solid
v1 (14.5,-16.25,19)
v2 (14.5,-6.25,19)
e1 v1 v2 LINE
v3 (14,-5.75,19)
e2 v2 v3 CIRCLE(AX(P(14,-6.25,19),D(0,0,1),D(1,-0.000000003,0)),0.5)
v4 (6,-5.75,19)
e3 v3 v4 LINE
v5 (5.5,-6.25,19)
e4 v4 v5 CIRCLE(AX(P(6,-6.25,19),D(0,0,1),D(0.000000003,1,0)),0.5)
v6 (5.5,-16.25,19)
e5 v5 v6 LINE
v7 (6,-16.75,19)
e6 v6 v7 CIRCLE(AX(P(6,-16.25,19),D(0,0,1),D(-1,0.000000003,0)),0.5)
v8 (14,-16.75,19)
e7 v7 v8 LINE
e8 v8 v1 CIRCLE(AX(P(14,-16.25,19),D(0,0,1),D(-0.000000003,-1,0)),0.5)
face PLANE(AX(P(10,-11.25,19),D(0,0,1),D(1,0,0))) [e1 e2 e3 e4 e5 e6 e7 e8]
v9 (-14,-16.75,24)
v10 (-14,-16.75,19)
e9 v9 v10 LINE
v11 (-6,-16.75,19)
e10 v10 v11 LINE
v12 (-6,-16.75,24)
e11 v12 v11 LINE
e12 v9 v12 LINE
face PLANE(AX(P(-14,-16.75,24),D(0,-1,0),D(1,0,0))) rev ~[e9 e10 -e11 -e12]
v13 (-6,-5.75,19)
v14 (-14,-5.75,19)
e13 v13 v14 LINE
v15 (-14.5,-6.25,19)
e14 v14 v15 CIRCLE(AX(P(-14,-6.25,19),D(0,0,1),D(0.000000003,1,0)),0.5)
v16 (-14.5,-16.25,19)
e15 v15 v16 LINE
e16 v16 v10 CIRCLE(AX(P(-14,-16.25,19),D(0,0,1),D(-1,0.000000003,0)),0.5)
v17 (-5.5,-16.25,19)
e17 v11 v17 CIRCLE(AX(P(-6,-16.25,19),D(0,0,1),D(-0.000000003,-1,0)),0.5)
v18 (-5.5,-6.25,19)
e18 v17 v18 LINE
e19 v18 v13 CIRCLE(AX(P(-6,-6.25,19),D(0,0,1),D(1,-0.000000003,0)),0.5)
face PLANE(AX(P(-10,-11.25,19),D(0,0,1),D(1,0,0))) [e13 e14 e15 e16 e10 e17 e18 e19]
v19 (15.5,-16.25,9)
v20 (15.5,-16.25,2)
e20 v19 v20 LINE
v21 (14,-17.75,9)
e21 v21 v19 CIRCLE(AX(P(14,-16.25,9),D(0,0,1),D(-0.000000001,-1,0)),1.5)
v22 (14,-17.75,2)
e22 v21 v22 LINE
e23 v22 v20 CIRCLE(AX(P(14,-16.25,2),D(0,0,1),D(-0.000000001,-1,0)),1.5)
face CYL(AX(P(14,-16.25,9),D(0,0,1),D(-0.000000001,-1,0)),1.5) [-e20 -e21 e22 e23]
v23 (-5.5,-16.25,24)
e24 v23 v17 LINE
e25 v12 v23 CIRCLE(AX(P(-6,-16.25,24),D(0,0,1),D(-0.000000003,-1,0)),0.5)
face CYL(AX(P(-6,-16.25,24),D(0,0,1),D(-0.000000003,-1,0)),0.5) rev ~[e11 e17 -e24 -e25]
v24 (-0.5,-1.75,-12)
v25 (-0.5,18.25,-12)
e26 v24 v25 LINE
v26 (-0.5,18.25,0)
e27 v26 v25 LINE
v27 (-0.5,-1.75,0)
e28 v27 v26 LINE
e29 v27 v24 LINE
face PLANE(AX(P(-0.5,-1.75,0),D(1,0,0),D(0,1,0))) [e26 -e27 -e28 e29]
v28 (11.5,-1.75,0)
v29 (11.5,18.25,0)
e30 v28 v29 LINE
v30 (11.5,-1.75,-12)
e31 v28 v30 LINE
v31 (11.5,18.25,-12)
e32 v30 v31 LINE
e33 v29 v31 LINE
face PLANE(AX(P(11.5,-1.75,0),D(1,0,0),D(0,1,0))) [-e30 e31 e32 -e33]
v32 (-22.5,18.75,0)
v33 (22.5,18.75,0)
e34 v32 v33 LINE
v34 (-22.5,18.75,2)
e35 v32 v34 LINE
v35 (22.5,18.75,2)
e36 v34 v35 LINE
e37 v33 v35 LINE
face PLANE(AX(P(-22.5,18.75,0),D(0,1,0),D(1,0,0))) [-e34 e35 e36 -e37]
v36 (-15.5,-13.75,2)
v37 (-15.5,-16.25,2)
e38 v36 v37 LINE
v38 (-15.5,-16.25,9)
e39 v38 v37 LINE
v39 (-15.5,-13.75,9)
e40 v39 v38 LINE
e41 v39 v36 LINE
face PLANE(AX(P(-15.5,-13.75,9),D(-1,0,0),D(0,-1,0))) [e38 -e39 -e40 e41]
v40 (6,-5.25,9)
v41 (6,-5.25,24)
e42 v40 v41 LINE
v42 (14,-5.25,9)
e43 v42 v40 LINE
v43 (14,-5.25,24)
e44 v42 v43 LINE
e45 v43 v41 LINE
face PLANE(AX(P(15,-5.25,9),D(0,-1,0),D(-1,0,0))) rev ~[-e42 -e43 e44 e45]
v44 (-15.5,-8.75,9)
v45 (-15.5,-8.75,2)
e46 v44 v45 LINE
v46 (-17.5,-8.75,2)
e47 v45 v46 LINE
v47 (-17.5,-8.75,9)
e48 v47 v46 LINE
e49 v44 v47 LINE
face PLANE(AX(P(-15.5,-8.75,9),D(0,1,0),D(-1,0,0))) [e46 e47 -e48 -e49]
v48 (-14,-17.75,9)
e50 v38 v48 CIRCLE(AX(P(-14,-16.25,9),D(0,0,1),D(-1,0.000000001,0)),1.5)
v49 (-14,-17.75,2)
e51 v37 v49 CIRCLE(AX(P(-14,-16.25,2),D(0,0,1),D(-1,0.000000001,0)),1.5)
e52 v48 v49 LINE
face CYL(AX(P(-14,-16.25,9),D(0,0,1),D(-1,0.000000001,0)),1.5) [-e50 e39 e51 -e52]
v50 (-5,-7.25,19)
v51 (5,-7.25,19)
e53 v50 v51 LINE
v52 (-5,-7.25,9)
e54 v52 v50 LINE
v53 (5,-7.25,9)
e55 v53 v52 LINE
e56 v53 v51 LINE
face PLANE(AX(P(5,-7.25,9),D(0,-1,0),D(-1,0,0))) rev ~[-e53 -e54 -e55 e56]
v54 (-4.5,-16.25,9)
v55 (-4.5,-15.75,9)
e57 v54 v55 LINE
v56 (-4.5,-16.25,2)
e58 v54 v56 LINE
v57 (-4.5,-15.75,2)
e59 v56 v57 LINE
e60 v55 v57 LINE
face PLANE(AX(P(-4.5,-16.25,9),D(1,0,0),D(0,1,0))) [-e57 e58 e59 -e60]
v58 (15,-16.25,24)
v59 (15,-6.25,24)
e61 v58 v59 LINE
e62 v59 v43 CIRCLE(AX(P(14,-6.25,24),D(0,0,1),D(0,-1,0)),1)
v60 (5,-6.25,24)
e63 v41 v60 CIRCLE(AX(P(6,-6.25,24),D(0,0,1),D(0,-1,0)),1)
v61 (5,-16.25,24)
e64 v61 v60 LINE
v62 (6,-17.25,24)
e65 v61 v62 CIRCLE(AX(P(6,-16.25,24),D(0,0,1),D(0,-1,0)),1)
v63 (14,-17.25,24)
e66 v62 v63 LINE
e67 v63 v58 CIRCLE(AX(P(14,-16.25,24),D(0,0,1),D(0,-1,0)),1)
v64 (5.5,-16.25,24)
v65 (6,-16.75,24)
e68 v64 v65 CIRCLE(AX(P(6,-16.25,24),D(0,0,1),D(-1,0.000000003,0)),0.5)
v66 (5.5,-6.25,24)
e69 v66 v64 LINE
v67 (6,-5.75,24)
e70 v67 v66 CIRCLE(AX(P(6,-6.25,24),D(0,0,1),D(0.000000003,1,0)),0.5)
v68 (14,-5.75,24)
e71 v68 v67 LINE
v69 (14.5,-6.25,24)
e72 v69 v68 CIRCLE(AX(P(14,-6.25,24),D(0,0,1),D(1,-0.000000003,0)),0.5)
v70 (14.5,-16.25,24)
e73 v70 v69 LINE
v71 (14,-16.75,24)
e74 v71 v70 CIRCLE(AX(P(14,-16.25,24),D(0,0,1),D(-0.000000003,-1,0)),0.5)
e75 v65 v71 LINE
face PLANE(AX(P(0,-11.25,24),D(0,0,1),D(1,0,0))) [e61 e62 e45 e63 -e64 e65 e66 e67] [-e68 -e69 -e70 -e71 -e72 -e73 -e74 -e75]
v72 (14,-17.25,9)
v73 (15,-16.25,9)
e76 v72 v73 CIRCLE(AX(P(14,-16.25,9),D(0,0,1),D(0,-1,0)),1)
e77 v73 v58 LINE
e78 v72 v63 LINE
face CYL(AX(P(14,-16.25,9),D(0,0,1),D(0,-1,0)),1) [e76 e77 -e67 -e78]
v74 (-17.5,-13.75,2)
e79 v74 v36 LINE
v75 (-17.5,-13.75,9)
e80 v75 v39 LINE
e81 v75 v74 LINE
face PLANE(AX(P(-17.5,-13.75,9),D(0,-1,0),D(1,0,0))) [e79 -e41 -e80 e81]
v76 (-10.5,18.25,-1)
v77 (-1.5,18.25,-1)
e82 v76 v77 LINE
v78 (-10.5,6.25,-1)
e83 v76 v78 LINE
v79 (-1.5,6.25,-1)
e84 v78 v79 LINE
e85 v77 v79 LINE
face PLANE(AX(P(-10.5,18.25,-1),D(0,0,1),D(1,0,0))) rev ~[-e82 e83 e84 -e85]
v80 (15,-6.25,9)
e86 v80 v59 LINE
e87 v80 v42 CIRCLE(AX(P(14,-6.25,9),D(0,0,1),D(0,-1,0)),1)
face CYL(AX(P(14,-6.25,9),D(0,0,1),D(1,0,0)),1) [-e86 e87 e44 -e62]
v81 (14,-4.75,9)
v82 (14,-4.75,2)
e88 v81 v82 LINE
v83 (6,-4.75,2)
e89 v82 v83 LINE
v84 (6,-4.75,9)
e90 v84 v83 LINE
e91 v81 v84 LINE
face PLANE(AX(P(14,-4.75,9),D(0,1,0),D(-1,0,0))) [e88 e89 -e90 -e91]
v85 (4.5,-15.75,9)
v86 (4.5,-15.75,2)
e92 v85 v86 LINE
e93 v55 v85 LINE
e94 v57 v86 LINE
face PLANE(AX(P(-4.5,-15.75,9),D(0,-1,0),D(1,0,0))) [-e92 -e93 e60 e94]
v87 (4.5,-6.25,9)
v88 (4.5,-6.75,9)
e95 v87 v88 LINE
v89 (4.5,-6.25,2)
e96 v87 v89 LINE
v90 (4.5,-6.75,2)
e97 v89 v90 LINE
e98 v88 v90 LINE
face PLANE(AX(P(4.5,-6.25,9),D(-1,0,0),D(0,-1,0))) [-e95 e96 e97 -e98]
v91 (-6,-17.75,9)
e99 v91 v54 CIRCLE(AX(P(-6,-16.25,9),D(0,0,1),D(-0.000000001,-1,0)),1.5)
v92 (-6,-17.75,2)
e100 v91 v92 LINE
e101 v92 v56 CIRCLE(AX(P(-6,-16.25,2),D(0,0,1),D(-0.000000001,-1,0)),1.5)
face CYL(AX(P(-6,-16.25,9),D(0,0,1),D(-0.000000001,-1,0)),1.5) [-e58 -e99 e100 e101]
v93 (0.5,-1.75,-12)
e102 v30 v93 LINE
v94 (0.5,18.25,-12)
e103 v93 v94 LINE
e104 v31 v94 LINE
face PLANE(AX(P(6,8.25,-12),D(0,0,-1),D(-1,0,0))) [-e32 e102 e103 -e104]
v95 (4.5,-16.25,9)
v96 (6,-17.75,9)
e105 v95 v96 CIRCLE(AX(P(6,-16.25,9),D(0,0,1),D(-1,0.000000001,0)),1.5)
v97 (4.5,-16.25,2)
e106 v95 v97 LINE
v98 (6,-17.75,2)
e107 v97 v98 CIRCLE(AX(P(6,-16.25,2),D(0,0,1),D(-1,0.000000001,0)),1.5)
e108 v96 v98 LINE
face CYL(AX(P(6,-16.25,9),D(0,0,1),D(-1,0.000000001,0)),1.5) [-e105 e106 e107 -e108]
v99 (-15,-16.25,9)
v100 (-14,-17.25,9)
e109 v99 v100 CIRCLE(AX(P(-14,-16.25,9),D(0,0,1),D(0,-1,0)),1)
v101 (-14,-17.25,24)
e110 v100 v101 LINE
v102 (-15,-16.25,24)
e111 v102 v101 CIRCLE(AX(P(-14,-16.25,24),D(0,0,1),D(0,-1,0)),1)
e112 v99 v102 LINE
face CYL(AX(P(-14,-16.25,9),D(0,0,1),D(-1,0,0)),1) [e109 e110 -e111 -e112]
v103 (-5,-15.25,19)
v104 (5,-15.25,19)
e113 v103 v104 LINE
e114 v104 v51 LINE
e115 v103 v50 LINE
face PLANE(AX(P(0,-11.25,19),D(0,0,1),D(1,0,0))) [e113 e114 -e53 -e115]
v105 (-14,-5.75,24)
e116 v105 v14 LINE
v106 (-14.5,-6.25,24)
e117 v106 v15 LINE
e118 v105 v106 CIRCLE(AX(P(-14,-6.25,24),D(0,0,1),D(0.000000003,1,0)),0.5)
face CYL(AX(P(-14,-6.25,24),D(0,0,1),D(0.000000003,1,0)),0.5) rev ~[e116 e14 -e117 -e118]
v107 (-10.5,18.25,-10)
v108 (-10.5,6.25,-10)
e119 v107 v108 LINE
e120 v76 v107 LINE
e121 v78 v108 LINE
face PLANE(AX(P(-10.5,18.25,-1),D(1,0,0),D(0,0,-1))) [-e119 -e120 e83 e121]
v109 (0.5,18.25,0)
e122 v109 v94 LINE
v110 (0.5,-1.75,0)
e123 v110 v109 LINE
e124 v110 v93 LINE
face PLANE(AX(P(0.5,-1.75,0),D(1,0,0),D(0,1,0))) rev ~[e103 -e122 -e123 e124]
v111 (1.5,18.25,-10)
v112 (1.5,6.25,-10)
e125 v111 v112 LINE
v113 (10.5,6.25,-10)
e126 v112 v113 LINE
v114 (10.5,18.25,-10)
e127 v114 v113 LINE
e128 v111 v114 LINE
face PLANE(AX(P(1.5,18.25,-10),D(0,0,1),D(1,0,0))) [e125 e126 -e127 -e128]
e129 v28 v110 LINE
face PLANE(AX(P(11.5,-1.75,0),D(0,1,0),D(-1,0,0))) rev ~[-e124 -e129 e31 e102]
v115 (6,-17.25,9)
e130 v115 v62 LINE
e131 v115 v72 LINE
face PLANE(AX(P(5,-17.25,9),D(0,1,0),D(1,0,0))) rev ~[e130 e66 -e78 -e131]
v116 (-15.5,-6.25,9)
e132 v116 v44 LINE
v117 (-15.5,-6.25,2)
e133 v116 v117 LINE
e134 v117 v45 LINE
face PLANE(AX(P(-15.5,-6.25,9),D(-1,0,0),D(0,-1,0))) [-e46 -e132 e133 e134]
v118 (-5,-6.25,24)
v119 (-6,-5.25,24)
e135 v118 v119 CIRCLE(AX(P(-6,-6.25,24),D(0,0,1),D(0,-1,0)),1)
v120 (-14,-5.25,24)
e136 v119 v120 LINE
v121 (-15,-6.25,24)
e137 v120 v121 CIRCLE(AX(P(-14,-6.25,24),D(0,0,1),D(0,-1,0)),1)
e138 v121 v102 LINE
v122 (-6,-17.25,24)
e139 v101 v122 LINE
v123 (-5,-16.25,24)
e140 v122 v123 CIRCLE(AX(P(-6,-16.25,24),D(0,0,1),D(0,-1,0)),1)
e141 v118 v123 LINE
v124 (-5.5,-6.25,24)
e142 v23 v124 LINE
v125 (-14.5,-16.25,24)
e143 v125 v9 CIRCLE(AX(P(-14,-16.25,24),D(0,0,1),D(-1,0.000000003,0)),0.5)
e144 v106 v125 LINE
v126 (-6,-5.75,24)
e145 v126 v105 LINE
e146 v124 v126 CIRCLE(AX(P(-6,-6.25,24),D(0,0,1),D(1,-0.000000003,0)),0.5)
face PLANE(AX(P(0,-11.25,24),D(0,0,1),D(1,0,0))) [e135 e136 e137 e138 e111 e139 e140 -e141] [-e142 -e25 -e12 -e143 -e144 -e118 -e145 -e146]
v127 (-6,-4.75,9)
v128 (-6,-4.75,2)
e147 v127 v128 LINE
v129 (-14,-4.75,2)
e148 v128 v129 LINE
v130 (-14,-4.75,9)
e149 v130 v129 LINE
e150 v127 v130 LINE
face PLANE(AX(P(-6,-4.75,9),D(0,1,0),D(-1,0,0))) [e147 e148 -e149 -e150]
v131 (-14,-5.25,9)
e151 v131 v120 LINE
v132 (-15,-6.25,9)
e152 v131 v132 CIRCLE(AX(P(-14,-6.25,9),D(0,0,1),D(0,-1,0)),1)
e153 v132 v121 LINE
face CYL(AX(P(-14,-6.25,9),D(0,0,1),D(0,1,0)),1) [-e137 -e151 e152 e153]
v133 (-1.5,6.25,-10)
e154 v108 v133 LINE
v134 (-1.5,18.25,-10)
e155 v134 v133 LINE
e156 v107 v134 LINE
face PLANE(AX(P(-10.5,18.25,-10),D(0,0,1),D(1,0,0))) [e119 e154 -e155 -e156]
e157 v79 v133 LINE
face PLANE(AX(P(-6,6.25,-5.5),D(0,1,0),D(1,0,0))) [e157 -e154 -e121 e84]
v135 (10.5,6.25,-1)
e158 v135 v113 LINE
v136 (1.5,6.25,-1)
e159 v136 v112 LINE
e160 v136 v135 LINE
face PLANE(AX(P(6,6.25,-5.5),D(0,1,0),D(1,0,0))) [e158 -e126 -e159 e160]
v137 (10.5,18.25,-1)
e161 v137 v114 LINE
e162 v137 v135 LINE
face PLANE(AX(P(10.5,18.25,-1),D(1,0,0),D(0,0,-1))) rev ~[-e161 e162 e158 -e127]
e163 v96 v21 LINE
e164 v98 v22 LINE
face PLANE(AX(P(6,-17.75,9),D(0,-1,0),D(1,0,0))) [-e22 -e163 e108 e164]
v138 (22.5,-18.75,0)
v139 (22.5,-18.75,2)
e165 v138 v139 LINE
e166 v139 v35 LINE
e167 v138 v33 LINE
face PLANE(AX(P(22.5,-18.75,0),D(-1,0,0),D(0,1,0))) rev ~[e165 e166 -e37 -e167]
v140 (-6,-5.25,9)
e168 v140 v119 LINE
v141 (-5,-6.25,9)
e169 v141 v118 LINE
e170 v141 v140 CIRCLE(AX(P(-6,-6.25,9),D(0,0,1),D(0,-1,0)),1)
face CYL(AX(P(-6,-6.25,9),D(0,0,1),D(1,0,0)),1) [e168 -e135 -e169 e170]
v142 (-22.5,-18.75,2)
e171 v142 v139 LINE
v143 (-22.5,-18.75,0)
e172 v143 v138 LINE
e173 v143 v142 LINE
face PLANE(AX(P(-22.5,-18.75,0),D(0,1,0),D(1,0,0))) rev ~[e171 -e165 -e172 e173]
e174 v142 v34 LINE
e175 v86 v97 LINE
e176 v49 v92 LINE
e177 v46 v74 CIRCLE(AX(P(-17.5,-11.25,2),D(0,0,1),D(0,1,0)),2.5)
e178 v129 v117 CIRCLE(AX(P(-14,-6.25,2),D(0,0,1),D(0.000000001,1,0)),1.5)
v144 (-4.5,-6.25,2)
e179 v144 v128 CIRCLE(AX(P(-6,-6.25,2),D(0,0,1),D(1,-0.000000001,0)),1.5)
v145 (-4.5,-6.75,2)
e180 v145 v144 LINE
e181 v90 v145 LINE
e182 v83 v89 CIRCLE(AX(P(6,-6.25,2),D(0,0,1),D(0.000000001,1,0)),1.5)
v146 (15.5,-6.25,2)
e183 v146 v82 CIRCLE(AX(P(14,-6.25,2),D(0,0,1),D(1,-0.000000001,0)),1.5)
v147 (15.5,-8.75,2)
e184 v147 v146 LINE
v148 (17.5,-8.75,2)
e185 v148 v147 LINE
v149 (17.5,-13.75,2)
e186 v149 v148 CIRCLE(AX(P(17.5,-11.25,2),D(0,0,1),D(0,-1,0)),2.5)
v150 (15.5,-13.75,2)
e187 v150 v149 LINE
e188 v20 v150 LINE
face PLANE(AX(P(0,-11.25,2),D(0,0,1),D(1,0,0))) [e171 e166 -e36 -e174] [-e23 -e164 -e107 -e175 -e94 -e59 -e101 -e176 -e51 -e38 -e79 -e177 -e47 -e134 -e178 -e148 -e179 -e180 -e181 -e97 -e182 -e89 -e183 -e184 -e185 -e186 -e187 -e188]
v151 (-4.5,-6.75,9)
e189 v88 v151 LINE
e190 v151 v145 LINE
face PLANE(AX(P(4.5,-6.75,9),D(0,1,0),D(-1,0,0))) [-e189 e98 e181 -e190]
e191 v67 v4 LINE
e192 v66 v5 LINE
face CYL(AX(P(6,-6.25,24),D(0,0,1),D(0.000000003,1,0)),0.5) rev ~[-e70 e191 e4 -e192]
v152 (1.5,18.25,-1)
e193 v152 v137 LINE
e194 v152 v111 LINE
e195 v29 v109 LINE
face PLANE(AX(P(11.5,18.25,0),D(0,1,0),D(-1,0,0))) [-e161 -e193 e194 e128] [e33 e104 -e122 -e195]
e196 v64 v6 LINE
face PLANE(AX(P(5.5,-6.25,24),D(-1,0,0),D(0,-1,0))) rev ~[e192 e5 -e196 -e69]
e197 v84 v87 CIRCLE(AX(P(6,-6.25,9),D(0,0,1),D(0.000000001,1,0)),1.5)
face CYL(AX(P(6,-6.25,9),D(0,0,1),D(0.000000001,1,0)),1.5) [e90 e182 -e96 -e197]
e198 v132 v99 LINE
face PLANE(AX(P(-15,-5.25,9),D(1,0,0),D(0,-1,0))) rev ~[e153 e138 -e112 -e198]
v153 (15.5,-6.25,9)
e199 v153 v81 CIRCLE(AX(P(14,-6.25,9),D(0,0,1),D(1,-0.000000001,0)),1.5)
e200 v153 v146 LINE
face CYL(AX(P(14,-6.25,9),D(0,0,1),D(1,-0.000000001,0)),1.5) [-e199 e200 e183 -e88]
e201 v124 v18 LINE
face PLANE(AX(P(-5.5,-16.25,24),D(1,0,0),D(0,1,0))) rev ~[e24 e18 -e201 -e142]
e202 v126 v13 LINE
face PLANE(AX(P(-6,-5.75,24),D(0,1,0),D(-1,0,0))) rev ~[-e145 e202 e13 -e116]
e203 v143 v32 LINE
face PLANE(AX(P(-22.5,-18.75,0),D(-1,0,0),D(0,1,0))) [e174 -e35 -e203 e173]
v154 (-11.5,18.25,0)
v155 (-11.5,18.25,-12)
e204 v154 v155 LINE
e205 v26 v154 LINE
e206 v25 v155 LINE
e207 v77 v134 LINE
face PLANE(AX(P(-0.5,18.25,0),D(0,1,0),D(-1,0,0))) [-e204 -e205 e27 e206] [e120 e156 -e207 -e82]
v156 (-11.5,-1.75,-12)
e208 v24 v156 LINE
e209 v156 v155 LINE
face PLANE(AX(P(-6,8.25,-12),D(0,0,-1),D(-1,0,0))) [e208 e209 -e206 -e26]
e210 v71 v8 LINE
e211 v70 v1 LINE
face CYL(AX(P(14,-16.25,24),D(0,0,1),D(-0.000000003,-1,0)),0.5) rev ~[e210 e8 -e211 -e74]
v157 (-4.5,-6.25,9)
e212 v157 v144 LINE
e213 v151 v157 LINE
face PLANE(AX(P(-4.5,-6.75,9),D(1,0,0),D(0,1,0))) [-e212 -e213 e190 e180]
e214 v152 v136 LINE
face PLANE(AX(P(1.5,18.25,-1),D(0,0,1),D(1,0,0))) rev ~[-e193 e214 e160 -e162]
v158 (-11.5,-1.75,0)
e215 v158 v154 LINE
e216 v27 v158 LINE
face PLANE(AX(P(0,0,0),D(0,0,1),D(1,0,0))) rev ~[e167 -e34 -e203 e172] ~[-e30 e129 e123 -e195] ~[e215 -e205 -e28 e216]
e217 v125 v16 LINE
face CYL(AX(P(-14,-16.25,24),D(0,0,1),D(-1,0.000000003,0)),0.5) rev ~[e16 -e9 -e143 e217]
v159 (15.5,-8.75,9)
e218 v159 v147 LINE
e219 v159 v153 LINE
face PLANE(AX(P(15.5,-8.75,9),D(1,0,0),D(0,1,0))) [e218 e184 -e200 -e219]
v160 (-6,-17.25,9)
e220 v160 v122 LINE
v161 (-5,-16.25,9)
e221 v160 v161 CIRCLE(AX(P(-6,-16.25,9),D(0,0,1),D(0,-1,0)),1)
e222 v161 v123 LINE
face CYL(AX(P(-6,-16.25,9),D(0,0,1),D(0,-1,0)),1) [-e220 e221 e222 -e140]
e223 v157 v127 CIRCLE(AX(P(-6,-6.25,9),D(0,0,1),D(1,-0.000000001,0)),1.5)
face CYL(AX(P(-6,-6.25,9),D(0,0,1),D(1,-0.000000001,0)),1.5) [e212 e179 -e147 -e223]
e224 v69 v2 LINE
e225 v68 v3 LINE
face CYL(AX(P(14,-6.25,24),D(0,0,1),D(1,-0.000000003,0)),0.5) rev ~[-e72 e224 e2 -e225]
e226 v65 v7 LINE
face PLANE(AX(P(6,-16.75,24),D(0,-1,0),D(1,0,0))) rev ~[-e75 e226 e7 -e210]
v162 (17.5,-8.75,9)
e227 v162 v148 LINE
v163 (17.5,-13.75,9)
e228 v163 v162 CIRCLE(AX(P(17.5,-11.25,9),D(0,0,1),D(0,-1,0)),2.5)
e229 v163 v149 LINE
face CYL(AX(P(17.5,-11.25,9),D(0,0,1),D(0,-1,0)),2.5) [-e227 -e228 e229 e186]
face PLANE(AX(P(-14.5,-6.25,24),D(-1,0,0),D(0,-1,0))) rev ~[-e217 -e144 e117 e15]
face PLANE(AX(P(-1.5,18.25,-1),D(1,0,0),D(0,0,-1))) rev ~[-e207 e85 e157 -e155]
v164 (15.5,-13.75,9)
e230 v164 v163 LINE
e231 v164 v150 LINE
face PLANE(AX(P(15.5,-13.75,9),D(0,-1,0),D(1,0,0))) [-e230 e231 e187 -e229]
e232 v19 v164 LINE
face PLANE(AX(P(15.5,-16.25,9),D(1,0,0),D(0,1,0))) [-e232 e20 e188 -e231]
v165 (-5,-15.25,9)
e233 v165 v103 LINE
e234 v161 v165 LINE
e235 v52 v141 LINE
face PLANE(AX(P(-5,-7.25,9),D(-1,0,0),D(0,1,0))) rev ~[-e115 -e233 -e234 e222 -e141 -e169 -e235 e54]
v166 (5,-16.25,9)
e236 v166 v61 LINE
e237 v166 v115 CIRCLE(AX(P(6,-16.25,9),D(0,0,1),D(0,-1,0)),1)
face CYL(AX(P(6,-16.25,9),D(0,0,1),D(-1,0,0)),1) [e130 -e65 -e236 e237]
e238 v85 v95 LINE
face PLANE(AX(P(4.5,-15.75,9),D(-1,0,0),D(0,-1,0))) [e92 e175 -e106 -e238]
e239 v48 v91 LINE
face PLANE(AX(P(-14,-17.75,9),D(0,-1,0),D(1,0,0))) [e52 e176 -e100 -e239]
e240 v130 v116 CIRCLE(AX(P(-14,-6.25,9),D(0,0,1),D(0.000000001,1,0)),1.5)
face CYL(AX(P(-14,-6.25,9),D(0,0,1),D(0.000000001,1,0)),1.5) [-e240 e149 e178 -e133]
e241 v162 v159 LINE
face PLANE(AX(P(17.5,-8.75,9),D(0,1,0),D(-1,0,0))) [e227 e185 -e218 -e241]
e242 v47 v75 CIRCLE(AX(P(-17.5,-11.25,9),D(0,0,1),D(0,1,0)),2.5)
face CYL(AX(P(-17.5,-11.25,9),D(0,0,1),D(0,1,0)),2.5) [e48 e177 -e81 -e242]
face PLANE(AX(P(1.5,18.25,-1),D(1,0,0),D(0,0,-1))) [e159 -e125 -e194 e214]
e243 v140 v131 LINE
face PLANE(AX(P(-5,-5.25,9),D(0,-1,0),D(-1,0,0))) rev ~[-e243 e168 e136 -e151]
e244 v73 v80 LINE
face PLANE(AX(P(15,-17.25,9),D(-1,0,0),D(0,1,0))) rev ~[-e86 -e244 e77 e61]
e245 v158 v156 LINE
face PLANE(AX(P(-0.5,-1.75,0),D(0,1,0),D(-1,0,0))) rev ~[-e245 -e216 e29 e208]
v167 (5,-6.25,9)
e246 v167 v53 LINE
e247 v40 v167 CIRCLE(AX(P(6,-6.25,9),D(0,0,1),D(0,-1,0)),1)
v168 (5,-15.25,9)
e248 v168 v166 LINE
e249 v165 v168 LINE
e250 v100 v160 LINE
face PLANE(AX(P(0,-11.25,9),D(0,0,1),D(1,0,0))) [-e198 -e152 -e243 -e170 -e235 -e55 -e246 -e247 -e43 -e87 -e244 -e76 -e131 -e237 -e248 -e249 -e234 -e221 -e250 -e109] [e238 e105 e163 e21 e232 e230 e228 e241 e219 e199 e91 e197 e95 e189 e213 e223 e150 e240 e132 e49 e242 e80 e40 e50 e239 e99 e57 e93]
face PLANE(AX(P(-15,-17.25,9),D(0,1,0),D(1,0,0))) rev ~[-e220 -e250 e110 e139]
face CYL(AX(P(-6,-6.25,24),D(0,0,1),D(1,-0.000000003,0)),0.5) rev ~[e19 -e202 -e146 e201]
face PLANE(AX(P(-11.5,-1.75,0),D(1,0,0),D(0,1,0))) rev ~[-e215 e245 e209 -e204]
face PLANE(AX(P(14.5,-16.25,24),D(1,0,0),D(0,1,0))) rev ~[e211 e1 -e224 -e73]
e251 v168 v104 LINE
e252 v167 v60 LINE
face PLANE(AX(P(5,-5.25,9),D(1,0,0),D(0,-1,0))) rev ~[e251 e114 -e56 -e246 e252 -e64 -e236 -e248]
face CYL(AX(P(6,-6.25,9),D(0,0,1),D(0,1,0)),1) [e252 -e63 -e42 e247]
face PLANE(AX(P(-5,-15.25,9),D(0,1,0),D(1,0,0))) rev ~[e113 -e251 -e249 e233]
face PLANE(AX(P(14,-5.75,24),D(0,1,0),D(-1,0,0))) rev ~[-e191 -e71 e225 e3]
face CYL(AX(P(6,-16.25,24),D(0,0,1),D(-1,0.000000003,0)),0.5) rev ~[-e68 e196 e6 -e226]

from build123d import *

# Parameters (mm, degrees)
SKETCH1_W           = 45
SKETCH1_H           = 37.5
BOSS_EXTRUDE1_DEPTH = 2
SKETCH2_W           = 40
SKETCH2_H           = 13
BOSS_EXTRUDE2_DEPTH = 7
BOSS_EXTRUDE3_DEPTH = 15
FILLET1_R           = 1
SKETCH4_W           = 10
SKETCH4_H           = 8
CUT_EXTRUDE1_DEPTH  = 5
SKETCH5_W           = 41
SKETCH5_H           = 14
CUT_EXTRUDE2_DEPTH  = 7
SKETCH6_W           = 11
SKETCH6_H           = 20
BOSS_EXTRUDE5_DEPTH = 12
SKETCH7_W           = 9
SKETCH7_H           = 9
CUT_EXTRUDE3_DEPTH  = 12


with BuildPart() as part:
    # Sketch1 → Boss-Extrude1 (new body)
    with BuildSketch(Plane.XY):
        Rectangle(SKETCH1_W, SKETCH1_H)
    extrude(amount=BOSS_EXTRUDE1_DEPTH)

    # Sketch2 → Boss-Extrude2 (add)
    with BuildSketch(Plane.XY.offset(2)):
        with Locations((0, -11.25)):
            Rectangle(SKETCH2_W, SKETCH2_H)
    extrude(amount=BOSS_EXTRUDE2_DEPTH)

    # Sketch3 → Boss-Extrude3 (add)
    with BuildSketch(Plane.XY.offset(9)):
        Polygon((-5, -7.25), (-5, -5.25), (-15, -5.25), (-15, -17.25), (-5, -17.25), (-5, -15.25), (5, -15.25), (5, -17.25), (15, -17.25), (15, -5.25), (5, -5.25), (5, -7.25), align=None)
    extrude(amount=BOSS_EXTRUDE3_DEPTH)

    # Fillet1
    fillet1_edges = [part.edges().sort_by_distance(p)[0] for p in [
        (5, -5.25, 16.5),
        (-5, -5.25, 16.5),
        (-15, -5.25, 16.5),
        (-15, -17.25, 16.5),
        (-5, -17.25, 16.5),
        (5, -17.25, 16.5),
        (15, -17.25, 16.5),
        (15, -5.25, 16.5),
    ]]
    fillet(fillet1_edges, radius=FILLET1_R)

    # Sketch4 → Cut-Extrude1 (cut)
    with BuildSketch(Plane.XY.offset(24)):
        with BuildLine():
            Line((-5.5, -14.75), (-5.5, -7.75))
            Line((-5.5, -7.75), (-5.5, -6.25))
            ThreePointArc((-5.5, -6.25), (-5.646446609, -5.896446609), (-6, -5.75))
            Line((-6, -5.75), (-14, -5.75))
            ThreePointArc((-14, -5.75), (-14.353553391, -5.896446609), (-14.5, -6.25))
            Line((-14.5, -6.25), (-14.5, -16.25))
            ThreePointArc((-14.5, -16.25), (-14.353553391, -16.603553391), (-14, -16.75))
            Line((-14, -16.75), (-6, -16.75))
            ThreePointArc((-6, -16.75), (-5.646446609, -16.603553391), (-5.5, -16.25))
            Line((-5.5, -16.25), (-5.5, -14.75))
        make_face()
        with BuildLine():
            Line((5.5, -7.75), (5.5, -14.75))
            Line((5.5, -14.75), (5.5, -16.25))
            ThreePointArc((5.5, -16.25), (5.646446609, -16.603553391), (6, -16.75))
            Line((6, -16.75), (14, -16.75))
            ThreePointArc((14, -16.75), (14.353553391, -16.603553391), (14.5, -16.25))
            Line((14.5, -16.25), (14.5, -6.25))
            ThreePointArc((14.5, -6.25), (14.353553391, -5.896446609), (14, -5.75))
            Line((14, -5.75), (6, -5.75))
            ThreePointArc((6, -5.75), (5.646446609, -5.896446609), (5.5, -6.25))
            Line((5.5, -6.25), (5.5, -7.75))
        make_face()
        with Locations((0, -11.25)):
            Rectangle(SKETCH4_W, SKETCH4_H)
    extrude(amount=-CUT_EXTRUDE1_DEPTH, mode=Mode.SUBTRACT)

    # Sketch5 → Cut-Extrude2 (cut)
    with BuildSketch(Plane.XY.offset(9)):
        with Locations((0, -11.25)):
            Rectangle(SKETCH5_W, SKETCH5_H)
        with BuildLine():
            Line((-14, -17.75), (-6, -17.75))
            ThreePointArc((-6, -17.75), (-4.939339828, -17.310660172), (-4.5, -16.25))
            Line((-4.5, -16.25), (-4.5, -15.75))
            Line((-4.5, -15.75), (4.5, -15.75))
            Line((4.5, -15.75), (4.5, -16.25))
            ThreePointArc((4.5, -16.25), (4.939339828, -17.310660172), (6, -17.75))
            Line((6, -17.75), (14, -17.75))
            ThreePointArc((14, -17.75), (15.060660172, -17.310660172), (15.5, -16.25))
            Line((15.5, -16.25), (15.5, -13.75))
            Line((15.5, -13.75), (17.5, -13.75))
            ThreePointArc((17.5, -13.75), (20, -11.25), (17.5, -8.75))
            Line((17.5, -8.75), (15.5, -8.75))
            Line((15.5, -8.75), (15.5, -6.25))
            ThreePointArc((15.5, -6.25), (15.060660172, -5.189339828), (14, -4.75))
            Line((14, -4.75), (6, -4.75))
            ThreePointArc((6, -4.75), (4.939339828, -5.189339828), (4.5, -6.25))
            Line((4.5, -6.25), (4.5, -6.75))
            Line((4.5, -6.75), (-4.5, -6.75))
            Line((-4.5, -6.75), (-4.5, -6.25))
            ThreePointArc((-4.5, -6.25), (-4.939339828, -5.189339828), (-6, -4.75))
            Line((-6, -4.75), (-14, -4.75))
            ThreePointArc((-14, -4.75), (-15.060660172, -5.189339828), (-15.5, -6.25))
            Line((-15.5, -6.25), (-15.5, -8.75))
            Line((-15.5, -8.75), (-17.5, -8.75))
            ThreePointArc((-17.5, -8.75), (-20, -11.25), (-17.5, -13.75))
            Line((-17.5, -13.75), (-15.5, -13.75))
            Line((-15.5, -13.75), (-15.5, -16.25))
            ThreePointArc((-15.5, -16.25), (-15.060660172, -17.310660172), (-14, -17.75))
        make_face(mode=Mode.SUBTRACT)
    extrude(amount=-CUT_EXTRUDE2_DEPTH, mode=Mode.SUBTRACT)

    # Sketch6 → Boss-Extrude5 (add)
    with BuildSketch(Plane(origin=(0, 0, 0), x_dir=(-1, 0, 0), z_dir=(0, 0, -1))):
        with Locations((-6, 8.25)):
            Rectangle(SKETCH6_W, SKETCH6_H)
        with Locations((6, 8.25)):
            Rectangle(SKETCH6_W, SKETCH6_H)
    extrude(amount=BOSS_EXTRUDE5_DEPTH)

    # Sketch7 → Cut-Extrude3 (cut)
    with BuildSketch(Plane(origin=(0, 18.25, 0), x_dir=(1, 0, 0), z_dir=(0, 1, 0))):
        with Locations((-6, 5.5)):
            Rectangle(SKETCH7_W, SKETCH7_H)
        with Locations((6, 5.5)):
            Rectangle(SKETCH7_W, SKETCH7_H)
    extrude(amount=-CUT_EXTRUDE3_DEPTH, mode=Mode.SUBTRACT)


solid = part.part
